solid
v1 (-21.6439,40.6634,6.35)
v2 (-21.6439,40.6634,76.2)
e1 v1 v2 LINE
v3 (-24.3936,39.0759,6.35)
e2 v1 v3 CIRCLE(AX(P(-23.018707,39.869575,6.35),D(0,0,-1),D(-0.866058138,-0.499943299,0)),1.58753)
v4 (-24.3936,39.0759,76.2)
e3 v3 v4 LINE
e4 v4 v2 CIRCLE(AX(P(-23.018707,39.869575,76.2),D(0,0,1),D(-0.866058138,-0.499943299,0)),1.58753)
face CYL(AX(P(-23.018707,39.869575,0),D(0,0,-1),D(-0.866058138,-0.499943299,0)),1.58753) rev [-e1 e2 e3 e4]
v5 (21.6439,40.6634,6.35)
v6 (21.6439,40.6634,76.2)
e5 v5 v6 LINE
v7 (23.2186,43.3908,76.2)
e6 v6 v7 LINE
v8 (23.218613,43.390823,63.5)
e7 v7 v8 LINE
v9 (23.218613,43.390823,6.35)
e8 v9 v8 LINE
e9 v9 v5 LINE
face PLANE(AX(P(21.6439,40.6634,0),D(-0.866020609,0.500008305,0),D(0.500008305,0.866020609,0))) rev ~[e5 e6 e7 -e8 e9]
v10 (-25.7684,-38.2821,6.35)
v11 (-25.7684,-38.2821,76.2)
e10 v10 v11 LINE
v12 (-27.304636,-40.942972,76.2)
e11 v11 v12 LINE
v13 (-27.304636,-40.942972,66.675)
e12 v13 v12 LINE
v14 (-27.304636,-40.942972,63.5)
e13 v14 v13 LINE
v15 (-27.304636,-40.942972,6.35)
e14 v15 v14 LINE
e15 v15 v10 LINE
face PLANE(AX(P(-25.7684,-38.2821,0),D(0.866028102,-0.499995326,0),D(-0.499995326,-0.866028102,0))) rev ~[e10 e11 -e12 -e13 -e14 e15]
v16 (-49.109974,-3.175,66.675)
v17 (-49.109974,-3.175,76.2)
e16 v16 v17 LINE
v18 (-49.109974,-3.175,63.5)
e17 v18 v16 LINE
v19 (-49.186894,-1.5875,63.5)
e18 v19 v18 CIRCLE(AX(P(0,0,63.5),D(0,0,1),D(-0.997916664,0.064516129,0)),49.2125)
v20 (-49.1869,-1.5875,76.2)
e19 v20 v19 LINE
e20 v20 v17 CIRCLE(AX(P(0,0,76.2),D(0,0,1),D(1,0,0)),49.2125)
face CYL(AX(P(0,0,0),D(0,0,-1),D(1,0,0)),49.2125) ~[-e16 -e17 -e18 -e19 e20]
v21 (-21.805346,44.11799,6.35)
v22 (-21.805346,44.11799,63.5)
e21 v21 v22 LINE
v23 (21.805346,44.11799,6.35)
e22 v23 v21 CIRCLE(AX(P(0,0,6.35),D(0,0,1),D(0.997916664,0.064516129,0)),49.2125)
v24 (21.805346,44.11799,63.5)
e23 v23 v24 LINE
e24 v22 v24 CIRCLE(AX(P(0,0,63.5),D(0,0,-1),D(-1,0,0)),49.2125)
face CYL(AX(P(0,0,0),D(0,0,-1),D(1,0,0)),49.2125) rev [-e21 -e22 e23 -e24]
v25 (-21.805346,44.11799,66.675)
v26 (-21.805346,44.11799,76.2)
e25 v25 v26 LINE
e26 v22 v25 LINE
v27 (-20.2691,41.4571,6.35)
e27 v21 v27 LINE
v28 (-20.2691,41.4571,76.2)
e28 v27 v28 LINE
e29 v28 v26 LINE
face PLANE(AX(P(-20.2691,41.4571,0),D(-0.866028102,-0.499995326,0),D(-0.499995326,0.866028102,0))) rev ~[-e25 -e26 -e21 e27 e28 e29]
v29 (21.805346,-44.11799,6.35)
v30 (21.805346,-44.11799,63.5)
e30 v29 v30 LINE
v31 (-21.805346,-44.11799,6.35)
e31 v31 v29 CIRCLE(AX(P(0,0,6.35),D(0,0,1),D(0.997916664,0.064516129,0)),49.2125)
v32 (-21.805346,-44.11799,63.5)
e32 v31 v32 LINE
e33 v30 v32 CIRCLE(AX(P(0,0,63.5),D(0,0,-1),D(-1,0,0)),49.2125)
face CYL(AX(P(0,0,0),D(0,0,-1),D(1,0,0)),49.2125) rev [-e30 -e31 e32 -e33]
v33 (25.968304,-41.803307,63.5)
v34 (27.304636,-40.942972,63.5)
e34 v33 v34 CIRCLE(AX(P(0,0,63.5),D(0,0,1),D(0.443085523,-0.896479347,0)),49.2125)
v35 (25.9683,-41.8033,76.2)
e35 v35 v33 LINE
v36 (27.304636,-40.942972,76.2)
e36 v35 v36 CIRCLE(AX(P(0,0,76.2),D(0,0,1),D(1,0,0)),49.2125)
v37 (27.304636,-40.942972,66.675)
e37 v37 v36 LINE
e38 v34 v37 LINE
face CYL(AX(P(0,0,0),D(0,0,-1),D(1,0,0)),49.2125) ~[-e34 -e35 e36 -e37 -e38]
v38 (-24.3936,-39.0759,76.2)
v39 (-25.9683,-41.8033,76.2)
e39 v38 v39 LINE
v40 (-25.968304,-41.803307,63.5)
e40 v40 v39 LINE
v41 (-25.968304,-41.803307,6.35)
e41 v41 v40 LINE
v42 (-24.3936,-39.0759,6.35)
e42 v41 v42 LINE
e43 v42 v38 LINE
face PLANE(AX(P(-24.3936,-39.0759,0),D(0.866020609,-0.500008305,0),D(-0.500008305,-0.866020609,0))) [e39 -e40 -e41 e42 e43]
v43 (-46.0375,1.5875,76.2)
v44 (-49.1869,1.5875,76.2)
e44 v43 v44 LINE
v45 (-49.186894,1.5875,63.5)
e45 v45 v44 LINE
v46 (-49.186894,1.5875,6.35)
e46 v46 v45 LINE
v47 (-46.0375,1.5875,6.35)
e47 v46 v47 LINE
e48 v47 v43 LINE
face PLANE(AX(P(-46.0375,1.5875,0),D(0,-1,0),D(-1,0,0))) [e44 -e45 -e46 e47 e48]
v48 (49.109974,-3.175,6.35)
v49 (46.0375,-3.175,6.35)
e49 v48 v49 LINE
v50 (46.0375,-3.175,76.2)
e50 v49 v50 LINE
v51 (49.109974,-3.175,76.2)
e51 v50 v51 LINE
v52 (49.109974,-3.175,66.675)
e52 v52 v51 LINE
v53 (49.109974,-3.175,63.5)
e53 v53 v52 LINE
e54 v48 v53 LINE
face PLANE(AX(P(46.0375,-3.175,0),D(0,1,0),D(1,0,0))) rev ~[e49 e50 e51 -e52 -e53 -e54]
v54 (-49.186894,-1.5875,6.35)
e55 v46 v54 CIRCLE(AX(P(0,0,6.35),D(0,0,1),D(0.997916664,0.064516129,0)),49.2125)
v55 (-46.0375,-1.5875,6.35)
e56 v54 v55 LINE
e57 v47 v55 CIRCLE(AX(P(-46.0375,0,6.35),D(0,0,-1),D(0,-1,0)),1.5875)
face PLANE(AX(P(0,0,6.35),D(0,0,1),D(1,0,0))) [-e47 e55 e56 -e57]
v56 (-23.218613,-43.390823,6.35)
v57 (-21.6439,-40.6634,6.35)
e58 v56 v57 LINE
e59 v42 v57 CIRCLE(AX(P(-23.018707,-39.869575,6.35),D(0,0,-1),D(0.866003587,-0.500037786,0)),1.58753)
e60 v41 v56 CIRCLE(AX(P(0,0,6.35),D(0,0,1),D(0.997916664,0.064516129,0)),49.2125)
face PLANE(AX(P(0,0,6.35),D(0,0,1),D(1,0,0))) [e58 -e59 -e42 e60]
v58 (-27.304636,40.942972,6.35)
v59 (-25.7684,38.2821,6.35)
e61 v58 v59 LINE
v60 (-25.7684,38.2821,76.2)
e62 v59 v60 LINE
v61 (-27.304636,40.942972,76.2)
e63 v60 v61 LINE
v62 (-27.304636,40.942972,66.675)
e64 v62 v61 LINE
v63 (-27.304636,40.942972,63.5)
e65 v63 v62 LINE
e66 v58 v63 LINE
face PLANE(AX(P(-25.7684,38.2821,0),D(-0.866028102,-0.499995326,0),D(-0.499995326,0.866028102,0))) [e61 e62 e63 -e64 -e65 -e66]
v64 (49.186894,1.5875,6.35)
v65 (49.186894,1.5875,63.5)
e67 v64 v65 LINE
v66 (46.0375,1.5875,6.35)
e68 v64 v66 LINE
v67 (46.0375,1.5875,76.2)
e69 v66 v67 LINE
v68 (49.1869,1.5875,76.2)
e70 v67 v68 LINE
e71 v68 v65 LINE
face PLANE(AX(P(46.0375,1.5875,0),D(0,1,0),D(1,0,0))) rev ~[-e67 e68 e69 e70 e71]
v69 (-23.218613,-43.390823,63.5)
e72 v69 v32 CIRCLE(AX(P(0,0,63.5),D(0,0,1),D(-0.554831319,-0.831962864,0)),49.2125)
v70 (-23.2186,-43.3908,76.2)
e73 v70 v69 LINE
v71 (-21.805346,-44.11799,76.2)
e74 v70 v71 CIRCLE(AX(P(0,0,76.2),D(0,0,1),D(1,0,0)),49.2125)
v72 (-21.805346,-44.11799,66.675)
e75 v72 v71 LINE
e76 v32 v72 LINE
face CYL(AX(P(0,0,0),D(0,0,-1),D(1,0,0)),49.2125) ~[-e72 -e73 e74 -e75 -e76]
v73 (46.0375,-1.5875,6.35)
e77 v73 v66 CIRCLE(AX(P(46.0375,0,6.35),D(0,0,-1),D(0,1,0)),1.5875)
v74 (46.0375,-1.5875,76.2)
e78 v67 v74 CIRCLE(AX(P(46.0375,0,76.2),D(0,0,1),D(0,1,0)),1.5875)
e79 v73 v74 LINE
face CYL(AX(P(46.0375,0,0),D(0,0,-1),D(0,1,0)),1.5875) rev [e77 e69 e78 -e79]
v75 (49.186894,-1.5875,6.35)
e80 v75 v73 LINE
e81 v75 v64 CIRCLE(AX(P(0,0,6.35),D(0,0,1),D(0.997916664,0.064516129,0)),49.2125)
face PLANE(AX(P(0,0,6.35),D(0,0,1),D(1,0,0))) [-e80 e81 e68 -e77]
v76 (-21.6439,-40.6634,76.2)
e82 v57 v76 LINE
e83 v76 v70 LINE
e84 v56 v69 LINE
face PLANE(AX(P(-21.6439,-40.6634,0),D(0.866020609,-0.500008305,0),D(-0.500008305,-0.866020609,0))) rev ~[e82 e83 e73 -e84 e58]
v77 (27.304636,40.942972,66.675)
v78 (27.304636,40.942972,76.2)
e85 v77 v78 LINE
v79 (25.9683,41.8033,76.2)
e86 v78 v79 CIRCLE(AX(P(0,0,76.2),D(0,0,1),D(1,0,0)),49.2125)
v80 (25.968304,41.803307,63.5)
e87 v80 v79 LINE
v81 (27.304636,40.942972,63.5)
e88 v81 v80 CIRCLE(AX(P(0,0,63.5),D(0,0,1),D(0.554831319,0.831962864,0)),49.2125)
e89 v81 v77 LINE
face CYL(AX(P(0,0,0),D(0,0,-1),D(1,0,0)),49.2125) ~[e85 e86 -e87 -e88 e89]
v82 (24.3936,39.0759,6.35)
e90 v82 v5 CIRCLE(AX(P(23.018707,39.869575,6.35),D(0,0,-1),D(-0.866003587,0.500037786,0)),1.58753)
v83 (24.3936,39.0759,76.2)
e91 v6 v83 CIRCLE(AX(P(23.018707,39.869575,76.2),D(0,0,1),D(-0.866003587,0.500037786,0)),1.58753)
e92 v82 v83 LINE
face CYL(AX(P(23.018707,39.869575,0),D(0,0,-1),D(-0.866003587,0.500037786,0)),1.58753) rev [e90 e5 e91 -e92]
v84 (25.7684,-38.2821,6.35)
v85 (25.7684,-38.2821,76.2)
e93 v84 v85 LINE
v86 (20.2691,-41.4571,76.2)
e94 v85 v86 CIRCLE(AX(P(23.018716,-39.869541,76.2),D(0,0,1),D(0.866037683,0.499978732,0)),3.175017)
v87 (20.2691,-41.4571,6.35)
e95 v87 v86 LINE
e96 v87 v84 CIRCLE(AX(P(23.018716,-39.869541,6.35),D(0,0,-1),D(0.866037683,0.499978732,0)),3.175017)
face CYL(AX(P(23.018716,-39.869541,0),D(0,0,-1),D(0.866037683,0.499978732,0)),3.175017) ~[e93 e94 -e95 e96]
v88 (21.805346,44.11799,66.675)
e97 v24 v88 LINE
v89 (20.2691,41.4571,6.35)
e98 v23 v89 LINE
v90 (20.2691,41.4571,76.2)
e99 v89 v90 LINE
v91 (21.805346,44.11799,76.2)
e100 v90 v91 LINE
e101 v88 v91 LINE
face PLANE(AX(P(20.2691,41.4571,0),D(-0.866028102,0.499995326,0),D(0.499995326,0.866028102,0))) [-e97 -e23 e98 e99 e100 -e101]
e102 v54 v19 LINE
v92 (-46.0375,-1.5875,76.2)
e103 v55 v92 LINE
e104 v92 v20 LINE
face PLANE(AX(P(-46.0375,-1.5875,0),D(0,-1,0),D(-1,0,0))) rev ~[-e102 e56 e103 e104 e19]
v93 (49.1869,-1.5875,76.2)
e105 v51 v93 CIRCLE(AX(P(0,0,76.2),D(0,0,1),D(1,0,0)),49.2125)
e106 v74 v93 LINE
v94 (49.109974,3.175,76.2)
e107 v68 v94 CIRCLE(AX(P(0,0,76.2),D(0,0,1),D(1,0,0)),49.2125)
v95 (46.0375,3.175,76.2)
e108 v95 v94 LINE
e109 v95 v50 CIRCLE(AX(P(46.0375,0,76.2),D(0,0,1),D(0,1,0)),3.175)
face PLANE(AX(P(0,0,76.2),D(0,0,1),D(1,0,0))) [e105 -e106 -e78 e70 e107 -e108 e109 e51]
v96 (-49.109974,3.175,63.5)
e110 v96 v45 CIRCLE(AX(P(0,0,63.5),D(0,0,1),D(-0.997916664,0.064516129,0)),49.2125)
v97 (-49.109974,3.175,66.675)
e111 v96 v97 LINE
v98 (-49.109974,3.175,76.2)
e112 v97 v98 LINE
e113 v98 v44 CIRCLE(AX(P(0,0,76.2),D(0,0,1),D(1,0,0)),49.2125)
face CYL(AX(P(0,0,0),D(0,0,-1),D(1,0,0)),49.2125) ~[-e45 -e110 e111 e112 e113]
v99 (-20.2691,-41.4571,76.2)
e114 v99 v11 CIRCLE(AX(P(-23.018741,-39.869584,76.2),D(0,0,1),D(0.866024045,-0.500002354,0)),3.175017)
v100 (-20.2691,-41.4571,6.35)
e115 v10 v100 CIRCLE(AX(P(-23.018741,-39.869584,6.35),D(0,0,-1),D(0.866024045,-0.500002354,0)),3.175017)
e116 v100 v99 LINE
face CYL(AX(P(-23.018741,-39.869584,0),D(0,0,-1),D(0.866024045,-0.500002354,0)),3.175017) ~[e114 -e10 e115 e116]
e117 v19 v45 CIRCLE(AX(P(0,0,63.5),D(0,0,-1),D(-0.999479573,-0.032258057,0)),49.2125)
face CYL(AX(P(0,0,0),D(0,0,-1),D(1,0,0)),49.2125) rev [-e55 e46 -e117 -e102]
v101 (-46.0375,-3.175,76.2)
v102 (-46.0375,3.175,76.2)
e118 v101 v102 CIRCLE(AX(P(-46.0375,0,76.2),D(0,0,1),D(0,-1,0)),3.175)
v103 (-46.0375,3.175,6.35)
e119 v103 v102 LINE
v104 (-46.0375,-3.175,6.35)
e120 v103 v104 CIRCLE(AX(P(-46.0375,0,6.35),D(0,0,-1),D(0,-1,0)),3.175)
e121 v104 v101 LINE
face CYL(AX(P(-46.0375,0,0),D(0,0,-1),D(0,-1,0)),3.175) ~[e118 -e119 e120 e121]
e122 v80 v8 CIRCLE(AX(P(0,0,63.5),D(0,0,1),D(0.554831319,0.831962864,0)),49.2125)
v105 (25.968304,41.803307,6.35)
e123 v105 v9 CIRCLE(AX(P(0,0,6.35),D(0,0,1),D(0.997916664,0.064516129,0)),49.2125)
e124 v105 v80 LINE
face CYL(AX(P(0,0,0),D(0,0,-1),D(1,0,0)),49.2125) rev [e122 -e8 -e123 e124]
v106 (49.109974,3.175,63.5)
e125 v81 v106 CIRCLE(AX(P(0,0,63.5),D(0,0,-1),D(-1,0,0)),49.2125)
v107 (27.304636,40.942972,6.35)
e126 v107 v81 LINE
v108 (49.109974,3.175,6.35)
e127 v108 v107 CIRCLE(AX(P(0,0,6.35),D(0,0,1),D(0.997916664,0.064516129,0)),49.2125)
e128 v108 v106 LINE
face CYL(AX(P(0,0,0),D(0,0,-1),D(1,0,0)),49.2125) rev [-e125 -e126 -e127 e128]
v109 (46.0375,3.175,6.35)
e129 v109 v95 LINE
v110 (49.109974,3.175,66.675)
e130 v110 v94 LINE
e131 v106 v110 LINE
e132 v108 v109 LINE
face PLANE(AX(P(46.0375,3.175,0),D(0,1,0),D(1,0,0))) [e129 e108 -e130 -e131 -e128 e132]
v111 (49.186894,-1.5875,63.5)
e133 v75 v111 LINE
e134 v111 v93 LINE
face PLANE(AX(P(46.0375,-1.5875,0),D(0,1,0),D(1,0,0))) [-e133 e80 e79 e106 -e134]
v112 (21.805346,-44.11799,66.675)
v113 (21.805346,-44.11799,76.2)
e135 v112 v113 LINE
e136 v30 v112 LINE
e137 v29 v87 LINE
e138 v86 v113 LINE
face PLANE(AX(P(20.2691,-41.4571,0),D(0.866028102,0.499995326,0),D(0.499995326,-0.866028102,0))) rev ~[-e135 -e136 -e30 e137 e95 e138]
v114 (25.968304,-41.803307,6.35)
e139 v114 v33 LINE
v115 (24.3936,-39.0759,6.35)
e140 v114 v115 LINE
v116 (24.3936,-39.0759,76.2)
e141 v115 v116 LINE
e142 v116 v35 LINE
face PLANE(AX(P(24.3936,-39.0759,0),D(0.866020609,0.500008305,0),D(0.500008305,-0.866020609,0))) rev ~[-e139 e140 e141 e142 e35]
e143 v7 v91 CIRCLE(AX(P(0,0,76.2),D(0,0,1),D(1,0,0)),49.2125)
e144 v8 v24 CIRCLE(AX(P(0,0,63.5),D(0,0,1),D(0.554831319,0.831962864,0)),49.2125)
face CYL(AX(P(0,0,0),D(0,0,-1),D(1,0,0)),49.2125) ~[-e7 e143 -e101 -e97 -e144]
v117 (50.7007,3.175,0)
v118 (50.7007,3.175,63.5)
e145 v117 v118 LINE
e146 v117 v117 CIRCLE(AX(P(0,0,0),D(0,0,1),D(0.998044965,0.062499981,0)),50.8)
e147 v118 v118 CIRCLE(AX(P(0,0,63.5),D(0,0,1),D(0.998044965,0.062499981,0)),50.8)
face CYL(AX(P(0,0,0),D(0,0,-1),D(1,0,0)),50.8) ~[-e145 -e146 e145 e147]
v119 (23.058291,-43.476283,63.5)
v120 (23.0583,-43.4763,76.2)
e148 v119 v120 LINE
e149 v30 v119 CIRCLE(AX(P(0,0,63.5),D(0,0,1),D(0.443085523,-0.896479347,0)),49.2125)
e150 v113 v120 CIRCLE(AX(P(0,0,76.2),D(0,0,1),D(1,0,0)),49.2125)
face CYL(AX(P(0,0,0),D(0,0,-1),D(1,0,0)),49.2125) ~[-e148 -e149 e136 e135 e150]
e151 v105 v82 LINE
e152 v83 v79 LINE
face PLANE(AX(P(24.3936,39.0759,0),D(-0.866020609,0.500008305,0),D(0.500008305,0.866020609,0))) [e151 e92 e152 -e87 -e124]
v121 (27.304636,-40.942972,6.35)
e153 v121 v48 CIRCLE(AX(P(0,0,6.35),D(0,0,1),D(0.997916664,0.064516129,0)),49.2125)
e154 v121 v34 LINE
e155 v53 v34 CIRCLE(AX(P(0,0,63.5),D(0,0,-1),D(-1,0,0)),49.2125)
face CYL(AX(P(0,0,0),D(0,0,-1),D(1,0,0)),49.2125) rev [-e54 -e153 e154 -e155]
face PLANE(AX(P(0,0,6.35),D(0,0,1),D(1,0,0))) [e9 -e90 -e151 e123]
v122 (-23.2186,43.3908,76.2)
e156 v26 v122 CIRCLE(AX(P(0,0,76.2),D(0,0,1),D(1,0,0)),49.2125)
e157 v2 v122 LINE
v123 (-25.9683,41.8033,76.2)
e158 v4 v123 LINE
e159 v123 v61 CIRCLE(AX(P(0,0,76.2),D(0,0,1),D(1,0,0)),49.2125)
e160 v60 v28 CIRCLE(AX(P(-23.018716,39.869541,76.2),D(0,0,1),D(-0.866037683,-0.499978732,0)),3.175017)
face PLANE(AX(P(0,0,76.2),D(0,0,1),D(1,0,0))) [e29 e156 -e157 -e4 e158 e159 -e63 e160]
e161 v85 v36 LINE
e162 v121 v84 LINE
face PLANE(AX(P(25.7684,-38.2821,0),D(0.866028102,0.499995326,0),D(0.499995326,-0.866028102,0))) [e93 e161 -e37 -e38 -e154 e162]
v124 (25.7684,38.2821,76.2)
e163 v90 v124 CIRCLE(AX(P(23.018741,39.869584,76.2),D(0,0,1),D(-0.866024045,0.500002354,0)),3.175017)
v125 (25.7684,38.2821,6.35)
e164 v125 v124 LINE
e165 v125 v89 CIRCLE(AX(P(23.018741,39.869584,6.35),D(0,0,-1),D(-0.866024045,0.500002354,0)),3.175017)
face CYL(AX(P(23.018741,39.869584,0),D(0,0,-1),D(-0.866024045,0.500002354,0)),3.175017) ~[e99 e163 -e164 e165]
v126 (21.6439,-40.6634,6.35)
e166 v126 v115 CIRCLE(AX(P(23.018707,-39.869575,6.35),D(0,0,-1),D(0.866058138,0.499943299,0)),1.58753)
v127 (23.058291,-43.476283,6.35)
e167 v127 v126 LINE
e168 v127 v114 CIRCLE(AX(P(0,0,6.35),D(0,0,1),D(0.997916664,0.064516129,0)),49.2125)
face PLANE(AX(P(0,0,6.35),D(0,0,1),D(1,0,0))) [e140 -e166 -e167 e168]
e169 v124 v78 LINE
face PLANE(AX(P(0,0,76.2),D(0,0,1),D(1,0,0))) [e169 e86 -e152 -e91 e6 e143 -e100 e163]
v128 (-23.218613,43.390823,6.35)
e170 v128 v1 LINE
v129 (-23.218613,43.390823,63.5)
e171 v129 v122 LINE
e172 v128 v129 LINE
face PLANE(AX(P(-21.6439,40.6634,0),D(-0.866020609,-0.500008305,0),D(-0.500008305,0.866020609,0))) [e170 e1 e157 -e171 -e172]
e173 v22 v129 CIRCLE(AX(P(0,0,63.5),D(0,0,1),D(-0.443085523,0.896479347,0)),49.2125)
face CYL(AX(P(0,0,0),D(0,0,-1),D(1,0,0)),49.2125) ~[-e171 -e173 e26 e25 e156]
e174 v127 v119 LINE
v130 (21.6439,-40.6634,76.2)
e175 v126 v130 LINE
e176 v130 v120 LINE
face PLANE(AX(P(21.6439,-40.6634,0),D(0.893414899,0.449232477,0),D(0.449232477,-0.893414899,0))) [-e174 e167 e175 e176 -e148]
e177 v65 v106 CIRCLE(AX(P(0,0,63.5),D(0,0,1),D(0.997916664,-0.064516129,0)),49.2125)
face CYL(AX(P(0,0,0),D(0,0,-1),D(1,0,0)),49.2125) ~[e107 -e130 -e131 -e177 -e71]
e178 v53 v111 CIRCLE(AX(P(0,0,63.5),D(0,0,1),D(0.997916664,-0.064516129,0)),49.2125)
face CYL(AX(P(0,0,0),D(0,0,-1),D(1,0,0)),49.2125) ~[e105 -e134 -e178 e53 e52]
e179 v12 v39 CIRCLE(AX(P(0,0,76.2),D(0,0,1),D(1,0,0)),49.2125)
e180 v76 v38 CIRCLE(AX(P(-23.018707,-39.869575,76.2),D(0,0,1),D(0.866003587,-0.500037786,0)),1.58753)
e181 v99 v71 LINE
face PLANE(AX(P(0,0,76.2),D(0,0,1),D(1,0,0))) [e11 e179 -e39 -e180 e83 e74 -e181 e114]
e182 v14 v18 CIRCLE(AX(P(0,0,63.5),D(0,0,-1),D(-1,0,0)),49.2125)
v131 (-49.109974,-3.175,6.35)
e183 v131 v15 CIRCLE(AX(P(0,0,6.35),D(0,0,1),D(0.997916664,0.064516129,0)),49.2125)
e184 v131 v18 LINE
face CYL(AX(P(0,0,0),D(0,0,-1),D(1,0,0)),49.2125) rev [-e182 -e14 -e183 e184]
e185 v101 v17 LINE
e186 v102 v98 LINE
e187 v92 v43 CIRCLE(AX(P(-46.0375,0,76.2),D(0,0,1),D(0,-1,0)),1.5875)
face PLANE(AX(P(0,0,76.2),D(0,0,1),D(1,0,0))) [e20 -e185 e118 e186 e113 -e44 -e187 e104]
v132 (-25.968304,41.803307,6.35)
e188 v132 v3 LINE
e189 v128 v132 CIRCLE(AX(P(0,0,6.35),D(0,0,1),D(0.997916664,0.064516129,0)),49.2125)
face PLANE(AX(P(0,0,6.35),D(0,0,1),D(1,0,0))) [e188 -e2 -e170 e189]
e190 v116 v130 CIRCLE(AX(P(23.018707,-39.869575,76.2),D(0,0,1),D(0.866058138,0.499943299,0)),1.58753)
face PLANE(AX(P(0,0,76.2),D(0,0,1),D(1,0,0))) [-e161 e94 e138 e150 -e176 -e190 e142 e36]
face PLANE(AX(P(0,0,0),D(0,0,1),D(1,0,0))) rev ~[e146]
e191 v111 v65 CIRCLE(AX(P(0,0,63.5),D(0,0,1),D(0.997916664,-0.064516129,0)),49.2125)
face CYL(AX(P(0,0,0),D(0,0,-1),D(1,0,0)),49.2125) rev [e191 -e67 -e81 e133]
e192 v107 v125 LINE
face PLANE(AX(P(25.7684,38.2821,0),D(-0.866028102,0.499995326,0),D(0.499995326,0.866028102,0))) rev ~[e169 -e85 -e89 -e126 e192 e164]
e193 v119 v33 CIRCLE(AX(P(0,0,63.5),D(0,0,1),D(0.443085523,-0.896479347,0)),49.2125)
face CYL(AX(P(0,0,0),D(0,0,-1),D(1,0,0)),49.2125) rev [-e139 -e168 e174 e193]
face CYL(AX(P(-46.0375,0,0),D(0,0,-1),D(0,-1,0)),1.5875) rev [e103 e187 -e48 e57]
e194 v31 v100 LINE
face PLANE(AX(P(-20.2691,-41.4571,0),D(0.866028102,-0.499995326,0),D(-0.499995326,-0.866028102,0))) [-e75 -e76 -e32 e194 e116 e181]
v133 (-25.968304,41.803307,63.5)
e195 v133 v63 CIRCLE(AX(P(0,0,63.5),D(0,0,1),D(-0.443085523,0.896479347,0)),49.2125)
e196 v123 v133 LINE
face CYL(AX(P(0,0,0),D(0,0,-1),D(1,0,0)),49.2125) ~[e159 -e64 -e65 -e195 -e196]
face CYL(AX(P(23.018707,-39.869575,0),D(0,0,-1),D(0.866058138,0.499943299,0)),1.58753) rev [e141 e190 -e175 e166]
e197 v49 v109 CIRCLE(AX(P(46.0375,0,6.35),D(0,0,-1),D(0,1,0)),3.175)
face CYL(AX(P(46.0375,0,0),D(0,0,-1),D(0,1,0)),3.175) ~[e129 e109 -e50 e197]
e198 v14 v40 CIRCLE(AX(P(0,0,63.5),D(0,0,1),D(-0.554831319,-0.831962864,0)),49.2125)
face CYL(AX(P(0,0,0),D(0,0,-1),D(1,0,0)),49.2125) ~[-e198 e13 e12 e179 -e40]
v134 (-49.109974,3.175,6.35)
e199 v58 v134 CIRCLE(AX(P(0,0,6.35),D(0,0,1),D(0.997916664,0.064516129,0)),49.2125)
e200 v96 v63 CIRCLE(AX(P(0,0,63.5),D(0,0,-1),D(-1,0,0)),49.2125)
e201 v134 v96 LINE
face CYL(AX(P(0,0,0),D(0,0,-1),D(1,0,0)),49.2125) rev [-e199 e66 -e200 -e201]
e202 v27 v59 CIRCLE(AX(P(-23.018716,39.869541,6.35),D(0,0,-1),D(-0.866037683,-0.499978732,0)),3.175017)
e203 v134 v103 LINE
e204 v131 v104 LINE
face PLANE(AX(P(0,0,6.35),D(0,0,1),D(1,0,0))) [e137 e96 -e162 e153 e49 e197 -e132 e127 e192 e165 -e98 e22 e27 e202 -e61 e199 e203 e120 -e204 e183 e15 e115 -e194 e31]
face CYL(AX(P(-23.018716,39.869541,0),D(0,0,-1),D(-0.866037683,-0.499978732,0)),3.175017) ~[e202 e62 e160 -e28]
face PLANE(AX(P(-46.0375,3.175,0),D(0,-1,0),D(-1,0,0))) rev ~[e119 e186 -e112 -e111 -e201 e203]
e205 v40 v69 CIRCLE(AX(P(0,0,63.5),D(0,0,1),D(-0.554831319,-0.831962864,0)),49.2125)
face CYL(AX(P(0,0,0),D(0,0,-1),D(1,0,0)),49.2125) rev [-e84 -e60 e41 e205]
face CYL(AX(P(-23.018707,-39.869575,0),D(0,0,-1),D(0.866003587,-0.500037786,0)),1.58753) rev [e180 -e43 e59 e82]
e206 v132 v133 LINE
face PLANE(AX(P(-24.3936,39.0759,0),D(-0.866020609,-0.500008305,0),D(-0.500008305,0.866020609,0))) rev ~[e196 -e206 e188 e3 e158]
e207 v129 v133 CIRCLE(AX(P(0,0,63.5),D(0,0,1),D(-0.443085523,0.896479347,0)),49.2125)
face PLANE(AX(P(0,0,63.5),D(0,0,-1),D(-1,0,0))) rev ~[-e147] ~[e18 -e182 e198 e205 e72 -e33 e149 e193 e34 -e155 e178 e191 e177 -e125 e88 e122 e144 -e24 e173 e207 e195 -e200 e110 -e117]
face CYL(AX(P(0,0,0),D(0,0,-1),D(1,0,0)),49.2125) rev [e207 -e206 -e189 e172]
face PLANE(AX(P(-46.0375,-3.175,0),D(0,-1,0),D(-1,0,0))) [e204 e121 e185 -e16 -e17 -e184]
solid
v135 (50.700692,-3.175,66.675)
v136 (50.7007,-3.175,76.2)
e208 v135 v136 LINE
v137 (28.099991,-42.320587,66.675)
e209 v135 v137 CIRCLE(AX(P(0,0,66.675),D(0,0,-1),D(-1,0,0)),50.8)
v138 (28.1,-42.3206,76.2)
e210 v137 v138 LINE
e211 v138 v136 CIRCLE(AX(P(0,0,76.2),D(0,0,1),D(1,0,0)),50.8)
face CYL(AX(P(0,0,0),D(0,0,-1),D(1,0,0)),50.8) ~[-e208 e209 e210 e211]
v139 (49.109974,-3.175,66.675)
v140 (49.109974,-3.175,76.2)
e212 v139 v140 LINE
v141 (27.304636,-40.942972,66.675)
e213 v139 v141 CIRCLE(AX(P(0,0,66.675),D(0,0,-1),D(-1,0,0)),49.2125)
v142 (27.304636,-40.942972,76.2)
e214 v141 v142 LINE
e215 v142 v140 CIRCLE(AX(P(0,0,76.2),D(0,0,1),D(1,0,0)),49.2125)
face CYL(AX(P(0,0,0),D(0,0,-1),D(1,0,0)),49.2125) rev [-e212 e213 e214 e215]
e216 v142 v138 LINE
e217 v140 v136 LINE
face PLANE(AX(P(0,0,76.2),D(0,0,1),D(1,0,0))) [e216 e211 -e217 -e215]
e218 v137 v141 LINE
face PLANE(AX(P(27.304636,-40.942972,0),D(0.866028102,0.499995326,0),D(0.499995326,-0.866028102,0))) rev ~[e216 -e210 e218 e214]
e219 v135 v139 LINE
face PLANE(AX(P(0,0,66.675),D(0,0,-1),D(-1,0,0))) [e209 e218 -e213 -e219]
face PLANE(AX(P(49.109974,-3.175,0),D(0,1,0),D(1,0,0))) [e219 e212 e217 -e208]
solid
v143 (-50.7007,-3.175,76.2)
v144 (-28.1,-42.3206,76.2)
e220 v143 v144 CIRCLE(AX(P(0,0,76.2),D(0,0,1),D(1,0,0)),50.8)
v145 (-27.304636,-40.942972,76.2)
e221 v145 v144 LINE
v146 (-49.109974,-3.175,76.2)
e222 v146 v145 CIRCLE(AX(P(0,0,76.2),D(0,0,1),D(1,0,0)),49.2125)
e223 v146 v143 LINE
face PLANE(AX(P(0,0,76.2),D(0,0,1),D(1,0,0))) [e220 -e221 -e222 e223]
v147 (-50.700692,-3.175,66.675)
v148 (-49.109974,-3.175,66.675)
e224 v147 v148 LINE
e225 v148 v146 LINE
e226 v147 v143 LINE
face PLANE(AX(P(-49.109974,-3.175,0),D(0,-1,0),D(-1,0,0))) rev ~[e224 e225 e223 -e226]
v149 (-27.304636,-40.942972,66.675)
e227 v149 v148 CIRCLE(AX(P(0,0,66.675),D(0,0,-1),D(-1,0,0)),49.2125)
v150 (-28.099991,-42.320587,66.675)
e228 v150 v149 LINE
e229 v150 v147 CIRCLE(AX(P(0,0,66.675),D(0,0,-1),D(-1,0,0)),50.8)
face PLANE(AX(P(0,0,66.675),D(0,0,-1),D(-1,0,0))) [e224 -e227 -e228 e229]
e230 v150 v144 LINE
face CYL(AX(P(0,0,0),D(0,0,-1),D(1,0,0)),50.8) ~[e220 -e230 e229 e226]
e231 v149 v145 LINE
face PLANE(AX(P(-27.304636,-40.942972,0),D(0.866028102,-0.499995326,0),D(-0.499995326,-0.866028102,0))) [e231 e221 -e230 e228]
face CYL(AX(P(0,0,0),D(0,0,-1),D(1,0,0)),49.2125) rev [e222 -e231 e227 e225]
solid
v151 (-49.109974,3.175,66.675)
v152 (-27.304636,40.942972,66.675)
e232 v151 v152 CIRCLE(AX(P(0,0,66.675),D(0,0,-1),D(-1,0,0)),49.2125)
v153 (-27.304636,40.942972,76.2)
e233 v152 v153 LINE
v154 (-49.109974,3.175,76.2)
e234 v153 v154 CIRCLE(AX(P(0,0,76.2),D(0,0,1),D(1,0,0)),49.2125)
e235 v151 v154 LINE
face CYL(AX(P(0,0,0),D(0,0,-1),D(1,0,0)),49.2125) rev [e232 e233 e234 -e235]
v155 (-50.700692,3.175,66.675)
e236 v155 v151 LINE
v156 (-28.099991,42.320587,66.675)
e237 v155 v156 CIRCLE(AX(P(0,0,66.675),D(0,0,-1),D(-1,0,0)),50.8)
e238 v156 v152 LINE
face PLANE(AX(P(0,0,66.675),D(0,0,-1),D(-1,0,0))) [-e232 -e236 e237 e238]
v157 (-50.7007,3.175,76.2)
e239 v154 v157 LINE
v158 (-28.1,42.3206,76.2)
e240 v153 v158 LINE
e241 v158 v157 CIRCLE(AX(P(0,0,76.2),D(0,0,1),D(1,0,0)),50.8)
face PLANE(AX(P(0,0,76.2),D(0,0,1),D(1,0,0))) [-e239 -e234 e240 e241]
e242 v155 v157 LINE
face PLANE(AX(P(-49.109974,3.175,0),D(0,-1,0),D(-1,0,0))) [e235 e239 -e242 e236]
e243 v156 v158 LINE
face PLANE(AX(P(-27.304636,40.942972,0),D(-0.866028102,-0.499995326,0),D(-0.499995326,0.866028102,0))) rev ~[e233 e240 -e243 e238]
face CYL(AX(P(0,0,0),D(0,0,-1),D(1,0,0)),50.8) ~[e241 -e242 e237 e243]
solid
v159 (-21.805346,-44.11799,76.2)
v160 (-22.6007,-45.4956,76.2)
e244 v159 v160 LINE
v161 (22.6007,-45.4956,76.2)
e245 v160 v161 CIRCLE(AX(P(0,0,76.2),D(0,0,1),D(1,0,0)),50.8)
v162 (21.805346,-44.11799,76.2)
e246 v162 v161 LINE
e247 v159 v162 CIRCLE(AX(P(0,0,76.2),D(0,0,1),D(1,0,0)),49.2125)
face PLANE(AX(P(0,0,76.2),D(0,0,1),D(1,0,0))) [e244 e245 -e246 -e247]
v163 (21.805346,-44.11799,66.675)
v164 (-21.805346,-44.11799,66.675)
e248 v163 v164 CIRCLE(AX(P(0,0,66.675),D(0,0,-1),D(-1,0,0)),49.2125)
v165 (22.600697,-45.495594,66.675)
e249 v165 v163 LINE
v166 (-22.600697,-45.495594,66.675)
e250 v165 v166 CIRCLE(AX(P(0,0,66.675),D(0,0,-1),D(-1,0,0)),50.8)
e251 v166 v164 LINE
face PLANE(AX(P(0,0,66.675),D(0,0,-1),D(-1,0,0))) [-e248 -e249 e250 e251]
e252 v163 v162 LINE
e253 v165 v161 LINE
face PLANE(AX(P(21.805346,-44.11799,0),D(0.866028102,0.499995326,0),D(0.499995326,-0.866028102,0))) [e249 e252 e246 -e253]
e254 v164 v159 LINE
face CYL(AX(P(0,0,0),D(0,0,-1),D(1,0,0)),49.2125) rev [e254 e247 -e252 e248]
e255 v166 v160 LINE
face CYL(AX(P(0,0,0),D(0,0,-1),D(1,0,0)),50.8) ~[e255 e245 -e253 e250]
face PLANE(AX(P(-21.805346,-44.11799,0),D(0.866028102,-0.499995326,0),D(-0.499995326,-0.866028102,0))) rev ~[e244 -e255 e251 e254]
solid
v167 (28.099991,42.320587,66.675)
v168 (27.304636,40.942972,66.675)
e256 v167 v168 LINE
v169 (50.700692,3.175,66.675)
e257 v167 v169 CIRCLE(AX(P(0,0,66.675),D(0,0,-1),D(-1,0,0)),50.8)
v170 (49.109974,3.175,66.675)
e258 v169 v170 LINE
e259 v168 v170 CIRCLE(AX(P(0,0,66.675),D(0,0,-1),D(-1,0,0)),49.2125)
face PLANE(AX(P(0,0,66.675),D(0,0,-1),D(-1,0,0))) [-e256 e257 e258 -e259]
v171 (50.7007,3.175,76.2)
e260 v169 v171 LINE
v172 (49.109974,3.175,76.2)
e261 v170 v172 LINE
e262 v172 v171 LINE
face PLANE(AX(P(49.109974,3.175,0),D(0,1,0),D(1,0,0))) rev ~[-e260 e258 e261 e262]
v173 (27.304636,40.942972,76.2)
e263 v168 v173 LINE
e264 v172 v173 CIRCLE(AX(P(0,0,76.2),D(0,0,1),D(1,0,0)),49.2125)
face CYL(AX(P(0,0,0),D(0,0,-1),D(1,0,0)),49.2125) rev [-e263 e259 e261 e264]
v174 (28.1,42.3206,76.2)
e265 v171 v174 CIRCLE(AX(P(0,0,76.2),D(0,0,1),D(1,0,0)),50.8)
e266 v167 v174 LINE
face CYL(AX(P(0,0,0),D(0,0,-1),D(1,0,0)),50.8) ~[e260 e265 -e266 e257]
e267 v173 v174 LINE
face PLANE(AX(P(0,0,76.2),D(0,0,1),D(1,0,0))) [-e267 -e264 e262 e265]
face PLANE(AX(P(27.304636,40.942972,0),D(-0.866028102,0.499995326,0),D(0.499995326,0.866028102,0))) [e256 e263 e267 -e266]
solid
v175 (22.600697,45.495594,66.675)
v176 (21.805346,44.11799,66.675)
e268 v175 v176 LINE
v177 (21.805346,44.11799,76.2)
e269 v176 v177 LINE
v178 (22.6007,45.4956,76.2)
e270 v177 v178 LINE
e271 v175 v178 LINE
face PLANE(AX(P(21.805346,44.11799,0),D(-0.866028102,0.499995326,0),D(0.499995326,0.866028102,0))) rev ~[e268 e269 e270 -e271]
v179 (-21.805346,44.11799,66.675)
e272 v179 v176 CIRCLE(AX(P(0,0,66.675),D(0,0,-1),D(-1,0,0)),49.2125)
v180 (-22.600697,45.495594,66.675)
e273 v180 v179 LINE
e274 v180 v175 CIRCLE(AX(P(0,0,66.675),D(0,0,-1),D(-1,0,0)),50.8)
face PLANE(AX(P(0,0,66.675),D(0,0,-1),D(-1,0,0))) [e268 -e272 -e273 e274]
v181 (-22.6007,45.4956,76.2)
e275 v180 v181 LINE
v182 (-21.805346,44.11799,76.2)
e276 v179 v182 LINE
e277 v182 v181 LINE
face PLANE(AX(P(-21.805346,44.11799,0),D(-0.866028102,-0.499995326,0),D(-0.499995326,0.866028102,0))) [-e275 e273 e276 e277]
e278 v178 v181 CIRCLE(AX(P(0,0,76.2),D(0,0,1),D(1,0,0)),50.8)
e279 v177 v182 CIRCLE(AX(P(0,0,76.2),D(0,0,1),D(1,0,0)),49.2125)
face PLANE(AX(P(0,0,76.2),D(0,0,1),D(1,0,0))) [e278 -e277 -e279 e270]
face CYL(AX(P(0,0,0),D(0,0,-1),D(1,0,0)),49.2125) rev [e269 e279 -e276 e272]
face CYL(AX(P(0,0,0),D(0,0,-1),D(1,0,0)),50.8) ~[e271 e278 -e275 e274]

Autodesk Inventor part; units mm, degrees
ref_plane "YZ Plane" through (0, 0, 0) normal (1, 0, 0) x (0, 1, 0)
ref_plane "XZ Plane" through (0, 0, 0) normal (0, 1, 0) x (-1, 0, 0)
ref_plane "XY Plane" through (0, 0, 0) normal (0, 0, 1) x (1, 0, 0)
sketch "Sketch1" plane through (0, 0, 0) normal (0, 0, 1) x (1, 0, 0)
  circle A0 centre (0, 0) radius 50.8
  circle A1 centre (0, 0) radius 49.2125
  line L0 (49.2125, 0) -> (46.0375, 0)
  arc A2 (46.0375, 3.175) -> (46.0375, -3.175) centre (46.0375, 0) ccw
  arc A3 (46.0375, 1.5875) -> (46.0375, -1.5875) centre (46.0375, 0) ccw
  line L1 (46.0375, -3.175) -> (50.7007, -3.175)
  line L2 (46.0375, 3.175) -> (50.7007, 3.175)
  line L3 (46.0375, 1.5875) -> (49.1869, 1.5875)
  line L4 (46.0375, -1.5875) -> (49.1869, -1.5875)
  line L5 (20.2691, 41.4571) -> (22.6007, 45.4956)
  arc A4 (20.2691, 41.4571) -> (25.7684, 38.2821) centre (23.0188, 39.8696) ccw
  line L6 (21.6439, 40.6634) -> (23.2186, 43.3908)
  arc A5 (21.6439, 40.6634) -> (24.3936, 39.0759) centre (23.0188, 39.8696) ccw
  line L7 (25.7684, 38.2821) -> (28.1, 42.3206)
  line L8 (-25.7684, 38.2821) -> (-28.1, 42.3206)
  arc A6 (-25.7684, 38.2821) -> (-20.2691, 41.4571) centre (-23.0187, 39.8696) ccw
  line L9 (-24.3936, 39.0759) -> (-25.9683, 41.8033)
  arc A7 (-24.3936, 39.0759) -> (-21.6439, 40.6634) centre (-23.0187, 39.8696) ccw
  line L10 (-20.2691, 41.4571) -> (-22.6007, 45.4956)
  line L11 (-46.0375, -3.175) -> (-50.7007, -3.175)
  arc A8 (-46.0375, -3.175) -> (-46.0375, 3.175) centre (-46.0375, 0) ccw
  line L12 (-46.0375, -1.5875) -> (-49.1869, -1.5875)
  arc A9 (-46.0375, -1.5875) -> (-46.0375, 1.5875) centre (-46.0375, 0) ccw
  line L13 (-46.0375, 3.175) -> (-50.7007, 3.175)
  line L14 (-20.2691, -41.4571) -> (-22.6007, -45.4956)
  arc A10 (-20.2691, -41.4571) -> (-25.7684, -38.2821) centre (-23.0188, -39.8696) ccw
  line L15 (-21.6439, -40.6634) -> (-23.2186, -43.3908)
  arc A11 (-21.6439, -40.6634) -> (-24.3936, -39.0759) centre (-23.0188, -39.8696) ccw
  line L16 (-25.7684, -38.2821) -> (-28.1, -42.3206)
  line L17 (25.7684, -38.2821) -> (28.1, -42.3206)
  arc A12 (25.7684, -38.2821) -> (20.2691, -41.4571) centre (23.0187, -39.8696) ccw
  line L18 (24.3936, -39.0759) -> (25.9683, -41.8033)
  arc A13 (24.3936, -39.0759) -> (21.6439, -40.6634) centre (23.0187, -39.8696) ccw
  line L19 (20.2691, -41.4571) -> (22.6007, -45.4956)
  line L20 (-46.0375, 1.5875) -> (-49.1869, 1.5875)
  line L21 (-21.6439, 40.6634) -> (-23.2186, 43.3908)
  line L22 (24.3936, 39.0759) -> (25.9683, 41.8033)
  line L23 (21.6439, -40.6634) -> (23.0583, -43.4763)
  line L24 (-24.3936, -39.0759) -> (-25.9683, -41.8033)
  point P0 (49.11, -3.175)
  point P1 (49.11, 3.175)
  point P2 (-49.11, 3.175)
  point P3 (-27.3046, 40.943)
  point P4 (-21.8054, 44.118)
  point P5 (21.8054, 44.118)
  point P6 (-27.3046, -40.943)
  point P7 (-49.11, -3.175)
  point P8 (21.8054, -44.118)
  point P9 (-21.8054, -44.118)
  point P10 (27.3046, -40.943)
  point P11 (27.3046, 40.943)
  dimension "d1" = 98.425
  dimension "d0" = 101.6
  dimension "d6" = 3.175
  dimension "d7" = 3.175
  dimension "d24" = 360
extrude "Extrusion1" add sketch "Sketch1" along normal blind 6.35 contours L2 A2 L1 A1 L17 A12 L19 L14 A10 L16 L11 A8 L13 L8 A6 L10 L5 A4 L7 | A1 L3 A3 L4 L1 A2 L2 | L7 A4 L5 A1 L6 A5 L22 | A1 L4 A3 L3 | A1 L18 A13 L23 L19 A12 L17 | L22 A5 L6 A1 | A1 L23 A13 L18 | L10 A6 L8 A1 L9 A7 L21 | A1 L15 A11 L24 L16 A10 L14 | L21 A7 L9 A1 | A1 L24 A11 L15 | L13 A8 L11 A1 L12 A9 L20 | L20 A9 L12 A1
extrude "Extrusion6" add sketch "Sketch1" along normal blind 76.2 contours L2 A1 L7 A0 | A0 L17 A1 L1 | L5 A1 L10 A0 | A0 L14 A1 L19 | L8 A1 L13 A0 | A0 L11 A1 L16
extrude "Extrusion7" add sketch "Sketch1" along normal blind 63.5 contours A0 L1 A1 L2 | L7 A1 L5 A0 | A0 L19 A1 L17 | L10 A1 L8 A0 | A0 L16 A1 L14 | L13 A1 L11 A0
extrude "Extrusion8" add sketch "Sketch1" along normal blind 76.2 contours A1 L3 A3 L4 L1 A2 L2 | L7 A4 L5 A1 L6 A5 L22 | A1 L18 A13 L23 L19 A12 L17 | L10 A6 L8 A1 L9 A7 L21 | A1 L15 A11 L24 L16 A10 L14 | L13 A8 L11 A1 L12 A9 L20
ref_plane "Work Plane1" through (0, 0, 66.675) normal (0, 0, -1) x (-1, 0, 0)
sketch "Sketch2" plane through (0, 0, 66.675) normal (0, 0, -1) x (-1, 0, 0)
  circle A0 centre (0, 0) radius 50.8
  circle A1 centre (0, 0) radius 49.2125
  dimension "d33" = 101.6
  dimension "d34" = 98.425
extrude "Extrusion9" cut sketch "Sketch2" along normal blind 3.175
properties part number "Main Iris box"
